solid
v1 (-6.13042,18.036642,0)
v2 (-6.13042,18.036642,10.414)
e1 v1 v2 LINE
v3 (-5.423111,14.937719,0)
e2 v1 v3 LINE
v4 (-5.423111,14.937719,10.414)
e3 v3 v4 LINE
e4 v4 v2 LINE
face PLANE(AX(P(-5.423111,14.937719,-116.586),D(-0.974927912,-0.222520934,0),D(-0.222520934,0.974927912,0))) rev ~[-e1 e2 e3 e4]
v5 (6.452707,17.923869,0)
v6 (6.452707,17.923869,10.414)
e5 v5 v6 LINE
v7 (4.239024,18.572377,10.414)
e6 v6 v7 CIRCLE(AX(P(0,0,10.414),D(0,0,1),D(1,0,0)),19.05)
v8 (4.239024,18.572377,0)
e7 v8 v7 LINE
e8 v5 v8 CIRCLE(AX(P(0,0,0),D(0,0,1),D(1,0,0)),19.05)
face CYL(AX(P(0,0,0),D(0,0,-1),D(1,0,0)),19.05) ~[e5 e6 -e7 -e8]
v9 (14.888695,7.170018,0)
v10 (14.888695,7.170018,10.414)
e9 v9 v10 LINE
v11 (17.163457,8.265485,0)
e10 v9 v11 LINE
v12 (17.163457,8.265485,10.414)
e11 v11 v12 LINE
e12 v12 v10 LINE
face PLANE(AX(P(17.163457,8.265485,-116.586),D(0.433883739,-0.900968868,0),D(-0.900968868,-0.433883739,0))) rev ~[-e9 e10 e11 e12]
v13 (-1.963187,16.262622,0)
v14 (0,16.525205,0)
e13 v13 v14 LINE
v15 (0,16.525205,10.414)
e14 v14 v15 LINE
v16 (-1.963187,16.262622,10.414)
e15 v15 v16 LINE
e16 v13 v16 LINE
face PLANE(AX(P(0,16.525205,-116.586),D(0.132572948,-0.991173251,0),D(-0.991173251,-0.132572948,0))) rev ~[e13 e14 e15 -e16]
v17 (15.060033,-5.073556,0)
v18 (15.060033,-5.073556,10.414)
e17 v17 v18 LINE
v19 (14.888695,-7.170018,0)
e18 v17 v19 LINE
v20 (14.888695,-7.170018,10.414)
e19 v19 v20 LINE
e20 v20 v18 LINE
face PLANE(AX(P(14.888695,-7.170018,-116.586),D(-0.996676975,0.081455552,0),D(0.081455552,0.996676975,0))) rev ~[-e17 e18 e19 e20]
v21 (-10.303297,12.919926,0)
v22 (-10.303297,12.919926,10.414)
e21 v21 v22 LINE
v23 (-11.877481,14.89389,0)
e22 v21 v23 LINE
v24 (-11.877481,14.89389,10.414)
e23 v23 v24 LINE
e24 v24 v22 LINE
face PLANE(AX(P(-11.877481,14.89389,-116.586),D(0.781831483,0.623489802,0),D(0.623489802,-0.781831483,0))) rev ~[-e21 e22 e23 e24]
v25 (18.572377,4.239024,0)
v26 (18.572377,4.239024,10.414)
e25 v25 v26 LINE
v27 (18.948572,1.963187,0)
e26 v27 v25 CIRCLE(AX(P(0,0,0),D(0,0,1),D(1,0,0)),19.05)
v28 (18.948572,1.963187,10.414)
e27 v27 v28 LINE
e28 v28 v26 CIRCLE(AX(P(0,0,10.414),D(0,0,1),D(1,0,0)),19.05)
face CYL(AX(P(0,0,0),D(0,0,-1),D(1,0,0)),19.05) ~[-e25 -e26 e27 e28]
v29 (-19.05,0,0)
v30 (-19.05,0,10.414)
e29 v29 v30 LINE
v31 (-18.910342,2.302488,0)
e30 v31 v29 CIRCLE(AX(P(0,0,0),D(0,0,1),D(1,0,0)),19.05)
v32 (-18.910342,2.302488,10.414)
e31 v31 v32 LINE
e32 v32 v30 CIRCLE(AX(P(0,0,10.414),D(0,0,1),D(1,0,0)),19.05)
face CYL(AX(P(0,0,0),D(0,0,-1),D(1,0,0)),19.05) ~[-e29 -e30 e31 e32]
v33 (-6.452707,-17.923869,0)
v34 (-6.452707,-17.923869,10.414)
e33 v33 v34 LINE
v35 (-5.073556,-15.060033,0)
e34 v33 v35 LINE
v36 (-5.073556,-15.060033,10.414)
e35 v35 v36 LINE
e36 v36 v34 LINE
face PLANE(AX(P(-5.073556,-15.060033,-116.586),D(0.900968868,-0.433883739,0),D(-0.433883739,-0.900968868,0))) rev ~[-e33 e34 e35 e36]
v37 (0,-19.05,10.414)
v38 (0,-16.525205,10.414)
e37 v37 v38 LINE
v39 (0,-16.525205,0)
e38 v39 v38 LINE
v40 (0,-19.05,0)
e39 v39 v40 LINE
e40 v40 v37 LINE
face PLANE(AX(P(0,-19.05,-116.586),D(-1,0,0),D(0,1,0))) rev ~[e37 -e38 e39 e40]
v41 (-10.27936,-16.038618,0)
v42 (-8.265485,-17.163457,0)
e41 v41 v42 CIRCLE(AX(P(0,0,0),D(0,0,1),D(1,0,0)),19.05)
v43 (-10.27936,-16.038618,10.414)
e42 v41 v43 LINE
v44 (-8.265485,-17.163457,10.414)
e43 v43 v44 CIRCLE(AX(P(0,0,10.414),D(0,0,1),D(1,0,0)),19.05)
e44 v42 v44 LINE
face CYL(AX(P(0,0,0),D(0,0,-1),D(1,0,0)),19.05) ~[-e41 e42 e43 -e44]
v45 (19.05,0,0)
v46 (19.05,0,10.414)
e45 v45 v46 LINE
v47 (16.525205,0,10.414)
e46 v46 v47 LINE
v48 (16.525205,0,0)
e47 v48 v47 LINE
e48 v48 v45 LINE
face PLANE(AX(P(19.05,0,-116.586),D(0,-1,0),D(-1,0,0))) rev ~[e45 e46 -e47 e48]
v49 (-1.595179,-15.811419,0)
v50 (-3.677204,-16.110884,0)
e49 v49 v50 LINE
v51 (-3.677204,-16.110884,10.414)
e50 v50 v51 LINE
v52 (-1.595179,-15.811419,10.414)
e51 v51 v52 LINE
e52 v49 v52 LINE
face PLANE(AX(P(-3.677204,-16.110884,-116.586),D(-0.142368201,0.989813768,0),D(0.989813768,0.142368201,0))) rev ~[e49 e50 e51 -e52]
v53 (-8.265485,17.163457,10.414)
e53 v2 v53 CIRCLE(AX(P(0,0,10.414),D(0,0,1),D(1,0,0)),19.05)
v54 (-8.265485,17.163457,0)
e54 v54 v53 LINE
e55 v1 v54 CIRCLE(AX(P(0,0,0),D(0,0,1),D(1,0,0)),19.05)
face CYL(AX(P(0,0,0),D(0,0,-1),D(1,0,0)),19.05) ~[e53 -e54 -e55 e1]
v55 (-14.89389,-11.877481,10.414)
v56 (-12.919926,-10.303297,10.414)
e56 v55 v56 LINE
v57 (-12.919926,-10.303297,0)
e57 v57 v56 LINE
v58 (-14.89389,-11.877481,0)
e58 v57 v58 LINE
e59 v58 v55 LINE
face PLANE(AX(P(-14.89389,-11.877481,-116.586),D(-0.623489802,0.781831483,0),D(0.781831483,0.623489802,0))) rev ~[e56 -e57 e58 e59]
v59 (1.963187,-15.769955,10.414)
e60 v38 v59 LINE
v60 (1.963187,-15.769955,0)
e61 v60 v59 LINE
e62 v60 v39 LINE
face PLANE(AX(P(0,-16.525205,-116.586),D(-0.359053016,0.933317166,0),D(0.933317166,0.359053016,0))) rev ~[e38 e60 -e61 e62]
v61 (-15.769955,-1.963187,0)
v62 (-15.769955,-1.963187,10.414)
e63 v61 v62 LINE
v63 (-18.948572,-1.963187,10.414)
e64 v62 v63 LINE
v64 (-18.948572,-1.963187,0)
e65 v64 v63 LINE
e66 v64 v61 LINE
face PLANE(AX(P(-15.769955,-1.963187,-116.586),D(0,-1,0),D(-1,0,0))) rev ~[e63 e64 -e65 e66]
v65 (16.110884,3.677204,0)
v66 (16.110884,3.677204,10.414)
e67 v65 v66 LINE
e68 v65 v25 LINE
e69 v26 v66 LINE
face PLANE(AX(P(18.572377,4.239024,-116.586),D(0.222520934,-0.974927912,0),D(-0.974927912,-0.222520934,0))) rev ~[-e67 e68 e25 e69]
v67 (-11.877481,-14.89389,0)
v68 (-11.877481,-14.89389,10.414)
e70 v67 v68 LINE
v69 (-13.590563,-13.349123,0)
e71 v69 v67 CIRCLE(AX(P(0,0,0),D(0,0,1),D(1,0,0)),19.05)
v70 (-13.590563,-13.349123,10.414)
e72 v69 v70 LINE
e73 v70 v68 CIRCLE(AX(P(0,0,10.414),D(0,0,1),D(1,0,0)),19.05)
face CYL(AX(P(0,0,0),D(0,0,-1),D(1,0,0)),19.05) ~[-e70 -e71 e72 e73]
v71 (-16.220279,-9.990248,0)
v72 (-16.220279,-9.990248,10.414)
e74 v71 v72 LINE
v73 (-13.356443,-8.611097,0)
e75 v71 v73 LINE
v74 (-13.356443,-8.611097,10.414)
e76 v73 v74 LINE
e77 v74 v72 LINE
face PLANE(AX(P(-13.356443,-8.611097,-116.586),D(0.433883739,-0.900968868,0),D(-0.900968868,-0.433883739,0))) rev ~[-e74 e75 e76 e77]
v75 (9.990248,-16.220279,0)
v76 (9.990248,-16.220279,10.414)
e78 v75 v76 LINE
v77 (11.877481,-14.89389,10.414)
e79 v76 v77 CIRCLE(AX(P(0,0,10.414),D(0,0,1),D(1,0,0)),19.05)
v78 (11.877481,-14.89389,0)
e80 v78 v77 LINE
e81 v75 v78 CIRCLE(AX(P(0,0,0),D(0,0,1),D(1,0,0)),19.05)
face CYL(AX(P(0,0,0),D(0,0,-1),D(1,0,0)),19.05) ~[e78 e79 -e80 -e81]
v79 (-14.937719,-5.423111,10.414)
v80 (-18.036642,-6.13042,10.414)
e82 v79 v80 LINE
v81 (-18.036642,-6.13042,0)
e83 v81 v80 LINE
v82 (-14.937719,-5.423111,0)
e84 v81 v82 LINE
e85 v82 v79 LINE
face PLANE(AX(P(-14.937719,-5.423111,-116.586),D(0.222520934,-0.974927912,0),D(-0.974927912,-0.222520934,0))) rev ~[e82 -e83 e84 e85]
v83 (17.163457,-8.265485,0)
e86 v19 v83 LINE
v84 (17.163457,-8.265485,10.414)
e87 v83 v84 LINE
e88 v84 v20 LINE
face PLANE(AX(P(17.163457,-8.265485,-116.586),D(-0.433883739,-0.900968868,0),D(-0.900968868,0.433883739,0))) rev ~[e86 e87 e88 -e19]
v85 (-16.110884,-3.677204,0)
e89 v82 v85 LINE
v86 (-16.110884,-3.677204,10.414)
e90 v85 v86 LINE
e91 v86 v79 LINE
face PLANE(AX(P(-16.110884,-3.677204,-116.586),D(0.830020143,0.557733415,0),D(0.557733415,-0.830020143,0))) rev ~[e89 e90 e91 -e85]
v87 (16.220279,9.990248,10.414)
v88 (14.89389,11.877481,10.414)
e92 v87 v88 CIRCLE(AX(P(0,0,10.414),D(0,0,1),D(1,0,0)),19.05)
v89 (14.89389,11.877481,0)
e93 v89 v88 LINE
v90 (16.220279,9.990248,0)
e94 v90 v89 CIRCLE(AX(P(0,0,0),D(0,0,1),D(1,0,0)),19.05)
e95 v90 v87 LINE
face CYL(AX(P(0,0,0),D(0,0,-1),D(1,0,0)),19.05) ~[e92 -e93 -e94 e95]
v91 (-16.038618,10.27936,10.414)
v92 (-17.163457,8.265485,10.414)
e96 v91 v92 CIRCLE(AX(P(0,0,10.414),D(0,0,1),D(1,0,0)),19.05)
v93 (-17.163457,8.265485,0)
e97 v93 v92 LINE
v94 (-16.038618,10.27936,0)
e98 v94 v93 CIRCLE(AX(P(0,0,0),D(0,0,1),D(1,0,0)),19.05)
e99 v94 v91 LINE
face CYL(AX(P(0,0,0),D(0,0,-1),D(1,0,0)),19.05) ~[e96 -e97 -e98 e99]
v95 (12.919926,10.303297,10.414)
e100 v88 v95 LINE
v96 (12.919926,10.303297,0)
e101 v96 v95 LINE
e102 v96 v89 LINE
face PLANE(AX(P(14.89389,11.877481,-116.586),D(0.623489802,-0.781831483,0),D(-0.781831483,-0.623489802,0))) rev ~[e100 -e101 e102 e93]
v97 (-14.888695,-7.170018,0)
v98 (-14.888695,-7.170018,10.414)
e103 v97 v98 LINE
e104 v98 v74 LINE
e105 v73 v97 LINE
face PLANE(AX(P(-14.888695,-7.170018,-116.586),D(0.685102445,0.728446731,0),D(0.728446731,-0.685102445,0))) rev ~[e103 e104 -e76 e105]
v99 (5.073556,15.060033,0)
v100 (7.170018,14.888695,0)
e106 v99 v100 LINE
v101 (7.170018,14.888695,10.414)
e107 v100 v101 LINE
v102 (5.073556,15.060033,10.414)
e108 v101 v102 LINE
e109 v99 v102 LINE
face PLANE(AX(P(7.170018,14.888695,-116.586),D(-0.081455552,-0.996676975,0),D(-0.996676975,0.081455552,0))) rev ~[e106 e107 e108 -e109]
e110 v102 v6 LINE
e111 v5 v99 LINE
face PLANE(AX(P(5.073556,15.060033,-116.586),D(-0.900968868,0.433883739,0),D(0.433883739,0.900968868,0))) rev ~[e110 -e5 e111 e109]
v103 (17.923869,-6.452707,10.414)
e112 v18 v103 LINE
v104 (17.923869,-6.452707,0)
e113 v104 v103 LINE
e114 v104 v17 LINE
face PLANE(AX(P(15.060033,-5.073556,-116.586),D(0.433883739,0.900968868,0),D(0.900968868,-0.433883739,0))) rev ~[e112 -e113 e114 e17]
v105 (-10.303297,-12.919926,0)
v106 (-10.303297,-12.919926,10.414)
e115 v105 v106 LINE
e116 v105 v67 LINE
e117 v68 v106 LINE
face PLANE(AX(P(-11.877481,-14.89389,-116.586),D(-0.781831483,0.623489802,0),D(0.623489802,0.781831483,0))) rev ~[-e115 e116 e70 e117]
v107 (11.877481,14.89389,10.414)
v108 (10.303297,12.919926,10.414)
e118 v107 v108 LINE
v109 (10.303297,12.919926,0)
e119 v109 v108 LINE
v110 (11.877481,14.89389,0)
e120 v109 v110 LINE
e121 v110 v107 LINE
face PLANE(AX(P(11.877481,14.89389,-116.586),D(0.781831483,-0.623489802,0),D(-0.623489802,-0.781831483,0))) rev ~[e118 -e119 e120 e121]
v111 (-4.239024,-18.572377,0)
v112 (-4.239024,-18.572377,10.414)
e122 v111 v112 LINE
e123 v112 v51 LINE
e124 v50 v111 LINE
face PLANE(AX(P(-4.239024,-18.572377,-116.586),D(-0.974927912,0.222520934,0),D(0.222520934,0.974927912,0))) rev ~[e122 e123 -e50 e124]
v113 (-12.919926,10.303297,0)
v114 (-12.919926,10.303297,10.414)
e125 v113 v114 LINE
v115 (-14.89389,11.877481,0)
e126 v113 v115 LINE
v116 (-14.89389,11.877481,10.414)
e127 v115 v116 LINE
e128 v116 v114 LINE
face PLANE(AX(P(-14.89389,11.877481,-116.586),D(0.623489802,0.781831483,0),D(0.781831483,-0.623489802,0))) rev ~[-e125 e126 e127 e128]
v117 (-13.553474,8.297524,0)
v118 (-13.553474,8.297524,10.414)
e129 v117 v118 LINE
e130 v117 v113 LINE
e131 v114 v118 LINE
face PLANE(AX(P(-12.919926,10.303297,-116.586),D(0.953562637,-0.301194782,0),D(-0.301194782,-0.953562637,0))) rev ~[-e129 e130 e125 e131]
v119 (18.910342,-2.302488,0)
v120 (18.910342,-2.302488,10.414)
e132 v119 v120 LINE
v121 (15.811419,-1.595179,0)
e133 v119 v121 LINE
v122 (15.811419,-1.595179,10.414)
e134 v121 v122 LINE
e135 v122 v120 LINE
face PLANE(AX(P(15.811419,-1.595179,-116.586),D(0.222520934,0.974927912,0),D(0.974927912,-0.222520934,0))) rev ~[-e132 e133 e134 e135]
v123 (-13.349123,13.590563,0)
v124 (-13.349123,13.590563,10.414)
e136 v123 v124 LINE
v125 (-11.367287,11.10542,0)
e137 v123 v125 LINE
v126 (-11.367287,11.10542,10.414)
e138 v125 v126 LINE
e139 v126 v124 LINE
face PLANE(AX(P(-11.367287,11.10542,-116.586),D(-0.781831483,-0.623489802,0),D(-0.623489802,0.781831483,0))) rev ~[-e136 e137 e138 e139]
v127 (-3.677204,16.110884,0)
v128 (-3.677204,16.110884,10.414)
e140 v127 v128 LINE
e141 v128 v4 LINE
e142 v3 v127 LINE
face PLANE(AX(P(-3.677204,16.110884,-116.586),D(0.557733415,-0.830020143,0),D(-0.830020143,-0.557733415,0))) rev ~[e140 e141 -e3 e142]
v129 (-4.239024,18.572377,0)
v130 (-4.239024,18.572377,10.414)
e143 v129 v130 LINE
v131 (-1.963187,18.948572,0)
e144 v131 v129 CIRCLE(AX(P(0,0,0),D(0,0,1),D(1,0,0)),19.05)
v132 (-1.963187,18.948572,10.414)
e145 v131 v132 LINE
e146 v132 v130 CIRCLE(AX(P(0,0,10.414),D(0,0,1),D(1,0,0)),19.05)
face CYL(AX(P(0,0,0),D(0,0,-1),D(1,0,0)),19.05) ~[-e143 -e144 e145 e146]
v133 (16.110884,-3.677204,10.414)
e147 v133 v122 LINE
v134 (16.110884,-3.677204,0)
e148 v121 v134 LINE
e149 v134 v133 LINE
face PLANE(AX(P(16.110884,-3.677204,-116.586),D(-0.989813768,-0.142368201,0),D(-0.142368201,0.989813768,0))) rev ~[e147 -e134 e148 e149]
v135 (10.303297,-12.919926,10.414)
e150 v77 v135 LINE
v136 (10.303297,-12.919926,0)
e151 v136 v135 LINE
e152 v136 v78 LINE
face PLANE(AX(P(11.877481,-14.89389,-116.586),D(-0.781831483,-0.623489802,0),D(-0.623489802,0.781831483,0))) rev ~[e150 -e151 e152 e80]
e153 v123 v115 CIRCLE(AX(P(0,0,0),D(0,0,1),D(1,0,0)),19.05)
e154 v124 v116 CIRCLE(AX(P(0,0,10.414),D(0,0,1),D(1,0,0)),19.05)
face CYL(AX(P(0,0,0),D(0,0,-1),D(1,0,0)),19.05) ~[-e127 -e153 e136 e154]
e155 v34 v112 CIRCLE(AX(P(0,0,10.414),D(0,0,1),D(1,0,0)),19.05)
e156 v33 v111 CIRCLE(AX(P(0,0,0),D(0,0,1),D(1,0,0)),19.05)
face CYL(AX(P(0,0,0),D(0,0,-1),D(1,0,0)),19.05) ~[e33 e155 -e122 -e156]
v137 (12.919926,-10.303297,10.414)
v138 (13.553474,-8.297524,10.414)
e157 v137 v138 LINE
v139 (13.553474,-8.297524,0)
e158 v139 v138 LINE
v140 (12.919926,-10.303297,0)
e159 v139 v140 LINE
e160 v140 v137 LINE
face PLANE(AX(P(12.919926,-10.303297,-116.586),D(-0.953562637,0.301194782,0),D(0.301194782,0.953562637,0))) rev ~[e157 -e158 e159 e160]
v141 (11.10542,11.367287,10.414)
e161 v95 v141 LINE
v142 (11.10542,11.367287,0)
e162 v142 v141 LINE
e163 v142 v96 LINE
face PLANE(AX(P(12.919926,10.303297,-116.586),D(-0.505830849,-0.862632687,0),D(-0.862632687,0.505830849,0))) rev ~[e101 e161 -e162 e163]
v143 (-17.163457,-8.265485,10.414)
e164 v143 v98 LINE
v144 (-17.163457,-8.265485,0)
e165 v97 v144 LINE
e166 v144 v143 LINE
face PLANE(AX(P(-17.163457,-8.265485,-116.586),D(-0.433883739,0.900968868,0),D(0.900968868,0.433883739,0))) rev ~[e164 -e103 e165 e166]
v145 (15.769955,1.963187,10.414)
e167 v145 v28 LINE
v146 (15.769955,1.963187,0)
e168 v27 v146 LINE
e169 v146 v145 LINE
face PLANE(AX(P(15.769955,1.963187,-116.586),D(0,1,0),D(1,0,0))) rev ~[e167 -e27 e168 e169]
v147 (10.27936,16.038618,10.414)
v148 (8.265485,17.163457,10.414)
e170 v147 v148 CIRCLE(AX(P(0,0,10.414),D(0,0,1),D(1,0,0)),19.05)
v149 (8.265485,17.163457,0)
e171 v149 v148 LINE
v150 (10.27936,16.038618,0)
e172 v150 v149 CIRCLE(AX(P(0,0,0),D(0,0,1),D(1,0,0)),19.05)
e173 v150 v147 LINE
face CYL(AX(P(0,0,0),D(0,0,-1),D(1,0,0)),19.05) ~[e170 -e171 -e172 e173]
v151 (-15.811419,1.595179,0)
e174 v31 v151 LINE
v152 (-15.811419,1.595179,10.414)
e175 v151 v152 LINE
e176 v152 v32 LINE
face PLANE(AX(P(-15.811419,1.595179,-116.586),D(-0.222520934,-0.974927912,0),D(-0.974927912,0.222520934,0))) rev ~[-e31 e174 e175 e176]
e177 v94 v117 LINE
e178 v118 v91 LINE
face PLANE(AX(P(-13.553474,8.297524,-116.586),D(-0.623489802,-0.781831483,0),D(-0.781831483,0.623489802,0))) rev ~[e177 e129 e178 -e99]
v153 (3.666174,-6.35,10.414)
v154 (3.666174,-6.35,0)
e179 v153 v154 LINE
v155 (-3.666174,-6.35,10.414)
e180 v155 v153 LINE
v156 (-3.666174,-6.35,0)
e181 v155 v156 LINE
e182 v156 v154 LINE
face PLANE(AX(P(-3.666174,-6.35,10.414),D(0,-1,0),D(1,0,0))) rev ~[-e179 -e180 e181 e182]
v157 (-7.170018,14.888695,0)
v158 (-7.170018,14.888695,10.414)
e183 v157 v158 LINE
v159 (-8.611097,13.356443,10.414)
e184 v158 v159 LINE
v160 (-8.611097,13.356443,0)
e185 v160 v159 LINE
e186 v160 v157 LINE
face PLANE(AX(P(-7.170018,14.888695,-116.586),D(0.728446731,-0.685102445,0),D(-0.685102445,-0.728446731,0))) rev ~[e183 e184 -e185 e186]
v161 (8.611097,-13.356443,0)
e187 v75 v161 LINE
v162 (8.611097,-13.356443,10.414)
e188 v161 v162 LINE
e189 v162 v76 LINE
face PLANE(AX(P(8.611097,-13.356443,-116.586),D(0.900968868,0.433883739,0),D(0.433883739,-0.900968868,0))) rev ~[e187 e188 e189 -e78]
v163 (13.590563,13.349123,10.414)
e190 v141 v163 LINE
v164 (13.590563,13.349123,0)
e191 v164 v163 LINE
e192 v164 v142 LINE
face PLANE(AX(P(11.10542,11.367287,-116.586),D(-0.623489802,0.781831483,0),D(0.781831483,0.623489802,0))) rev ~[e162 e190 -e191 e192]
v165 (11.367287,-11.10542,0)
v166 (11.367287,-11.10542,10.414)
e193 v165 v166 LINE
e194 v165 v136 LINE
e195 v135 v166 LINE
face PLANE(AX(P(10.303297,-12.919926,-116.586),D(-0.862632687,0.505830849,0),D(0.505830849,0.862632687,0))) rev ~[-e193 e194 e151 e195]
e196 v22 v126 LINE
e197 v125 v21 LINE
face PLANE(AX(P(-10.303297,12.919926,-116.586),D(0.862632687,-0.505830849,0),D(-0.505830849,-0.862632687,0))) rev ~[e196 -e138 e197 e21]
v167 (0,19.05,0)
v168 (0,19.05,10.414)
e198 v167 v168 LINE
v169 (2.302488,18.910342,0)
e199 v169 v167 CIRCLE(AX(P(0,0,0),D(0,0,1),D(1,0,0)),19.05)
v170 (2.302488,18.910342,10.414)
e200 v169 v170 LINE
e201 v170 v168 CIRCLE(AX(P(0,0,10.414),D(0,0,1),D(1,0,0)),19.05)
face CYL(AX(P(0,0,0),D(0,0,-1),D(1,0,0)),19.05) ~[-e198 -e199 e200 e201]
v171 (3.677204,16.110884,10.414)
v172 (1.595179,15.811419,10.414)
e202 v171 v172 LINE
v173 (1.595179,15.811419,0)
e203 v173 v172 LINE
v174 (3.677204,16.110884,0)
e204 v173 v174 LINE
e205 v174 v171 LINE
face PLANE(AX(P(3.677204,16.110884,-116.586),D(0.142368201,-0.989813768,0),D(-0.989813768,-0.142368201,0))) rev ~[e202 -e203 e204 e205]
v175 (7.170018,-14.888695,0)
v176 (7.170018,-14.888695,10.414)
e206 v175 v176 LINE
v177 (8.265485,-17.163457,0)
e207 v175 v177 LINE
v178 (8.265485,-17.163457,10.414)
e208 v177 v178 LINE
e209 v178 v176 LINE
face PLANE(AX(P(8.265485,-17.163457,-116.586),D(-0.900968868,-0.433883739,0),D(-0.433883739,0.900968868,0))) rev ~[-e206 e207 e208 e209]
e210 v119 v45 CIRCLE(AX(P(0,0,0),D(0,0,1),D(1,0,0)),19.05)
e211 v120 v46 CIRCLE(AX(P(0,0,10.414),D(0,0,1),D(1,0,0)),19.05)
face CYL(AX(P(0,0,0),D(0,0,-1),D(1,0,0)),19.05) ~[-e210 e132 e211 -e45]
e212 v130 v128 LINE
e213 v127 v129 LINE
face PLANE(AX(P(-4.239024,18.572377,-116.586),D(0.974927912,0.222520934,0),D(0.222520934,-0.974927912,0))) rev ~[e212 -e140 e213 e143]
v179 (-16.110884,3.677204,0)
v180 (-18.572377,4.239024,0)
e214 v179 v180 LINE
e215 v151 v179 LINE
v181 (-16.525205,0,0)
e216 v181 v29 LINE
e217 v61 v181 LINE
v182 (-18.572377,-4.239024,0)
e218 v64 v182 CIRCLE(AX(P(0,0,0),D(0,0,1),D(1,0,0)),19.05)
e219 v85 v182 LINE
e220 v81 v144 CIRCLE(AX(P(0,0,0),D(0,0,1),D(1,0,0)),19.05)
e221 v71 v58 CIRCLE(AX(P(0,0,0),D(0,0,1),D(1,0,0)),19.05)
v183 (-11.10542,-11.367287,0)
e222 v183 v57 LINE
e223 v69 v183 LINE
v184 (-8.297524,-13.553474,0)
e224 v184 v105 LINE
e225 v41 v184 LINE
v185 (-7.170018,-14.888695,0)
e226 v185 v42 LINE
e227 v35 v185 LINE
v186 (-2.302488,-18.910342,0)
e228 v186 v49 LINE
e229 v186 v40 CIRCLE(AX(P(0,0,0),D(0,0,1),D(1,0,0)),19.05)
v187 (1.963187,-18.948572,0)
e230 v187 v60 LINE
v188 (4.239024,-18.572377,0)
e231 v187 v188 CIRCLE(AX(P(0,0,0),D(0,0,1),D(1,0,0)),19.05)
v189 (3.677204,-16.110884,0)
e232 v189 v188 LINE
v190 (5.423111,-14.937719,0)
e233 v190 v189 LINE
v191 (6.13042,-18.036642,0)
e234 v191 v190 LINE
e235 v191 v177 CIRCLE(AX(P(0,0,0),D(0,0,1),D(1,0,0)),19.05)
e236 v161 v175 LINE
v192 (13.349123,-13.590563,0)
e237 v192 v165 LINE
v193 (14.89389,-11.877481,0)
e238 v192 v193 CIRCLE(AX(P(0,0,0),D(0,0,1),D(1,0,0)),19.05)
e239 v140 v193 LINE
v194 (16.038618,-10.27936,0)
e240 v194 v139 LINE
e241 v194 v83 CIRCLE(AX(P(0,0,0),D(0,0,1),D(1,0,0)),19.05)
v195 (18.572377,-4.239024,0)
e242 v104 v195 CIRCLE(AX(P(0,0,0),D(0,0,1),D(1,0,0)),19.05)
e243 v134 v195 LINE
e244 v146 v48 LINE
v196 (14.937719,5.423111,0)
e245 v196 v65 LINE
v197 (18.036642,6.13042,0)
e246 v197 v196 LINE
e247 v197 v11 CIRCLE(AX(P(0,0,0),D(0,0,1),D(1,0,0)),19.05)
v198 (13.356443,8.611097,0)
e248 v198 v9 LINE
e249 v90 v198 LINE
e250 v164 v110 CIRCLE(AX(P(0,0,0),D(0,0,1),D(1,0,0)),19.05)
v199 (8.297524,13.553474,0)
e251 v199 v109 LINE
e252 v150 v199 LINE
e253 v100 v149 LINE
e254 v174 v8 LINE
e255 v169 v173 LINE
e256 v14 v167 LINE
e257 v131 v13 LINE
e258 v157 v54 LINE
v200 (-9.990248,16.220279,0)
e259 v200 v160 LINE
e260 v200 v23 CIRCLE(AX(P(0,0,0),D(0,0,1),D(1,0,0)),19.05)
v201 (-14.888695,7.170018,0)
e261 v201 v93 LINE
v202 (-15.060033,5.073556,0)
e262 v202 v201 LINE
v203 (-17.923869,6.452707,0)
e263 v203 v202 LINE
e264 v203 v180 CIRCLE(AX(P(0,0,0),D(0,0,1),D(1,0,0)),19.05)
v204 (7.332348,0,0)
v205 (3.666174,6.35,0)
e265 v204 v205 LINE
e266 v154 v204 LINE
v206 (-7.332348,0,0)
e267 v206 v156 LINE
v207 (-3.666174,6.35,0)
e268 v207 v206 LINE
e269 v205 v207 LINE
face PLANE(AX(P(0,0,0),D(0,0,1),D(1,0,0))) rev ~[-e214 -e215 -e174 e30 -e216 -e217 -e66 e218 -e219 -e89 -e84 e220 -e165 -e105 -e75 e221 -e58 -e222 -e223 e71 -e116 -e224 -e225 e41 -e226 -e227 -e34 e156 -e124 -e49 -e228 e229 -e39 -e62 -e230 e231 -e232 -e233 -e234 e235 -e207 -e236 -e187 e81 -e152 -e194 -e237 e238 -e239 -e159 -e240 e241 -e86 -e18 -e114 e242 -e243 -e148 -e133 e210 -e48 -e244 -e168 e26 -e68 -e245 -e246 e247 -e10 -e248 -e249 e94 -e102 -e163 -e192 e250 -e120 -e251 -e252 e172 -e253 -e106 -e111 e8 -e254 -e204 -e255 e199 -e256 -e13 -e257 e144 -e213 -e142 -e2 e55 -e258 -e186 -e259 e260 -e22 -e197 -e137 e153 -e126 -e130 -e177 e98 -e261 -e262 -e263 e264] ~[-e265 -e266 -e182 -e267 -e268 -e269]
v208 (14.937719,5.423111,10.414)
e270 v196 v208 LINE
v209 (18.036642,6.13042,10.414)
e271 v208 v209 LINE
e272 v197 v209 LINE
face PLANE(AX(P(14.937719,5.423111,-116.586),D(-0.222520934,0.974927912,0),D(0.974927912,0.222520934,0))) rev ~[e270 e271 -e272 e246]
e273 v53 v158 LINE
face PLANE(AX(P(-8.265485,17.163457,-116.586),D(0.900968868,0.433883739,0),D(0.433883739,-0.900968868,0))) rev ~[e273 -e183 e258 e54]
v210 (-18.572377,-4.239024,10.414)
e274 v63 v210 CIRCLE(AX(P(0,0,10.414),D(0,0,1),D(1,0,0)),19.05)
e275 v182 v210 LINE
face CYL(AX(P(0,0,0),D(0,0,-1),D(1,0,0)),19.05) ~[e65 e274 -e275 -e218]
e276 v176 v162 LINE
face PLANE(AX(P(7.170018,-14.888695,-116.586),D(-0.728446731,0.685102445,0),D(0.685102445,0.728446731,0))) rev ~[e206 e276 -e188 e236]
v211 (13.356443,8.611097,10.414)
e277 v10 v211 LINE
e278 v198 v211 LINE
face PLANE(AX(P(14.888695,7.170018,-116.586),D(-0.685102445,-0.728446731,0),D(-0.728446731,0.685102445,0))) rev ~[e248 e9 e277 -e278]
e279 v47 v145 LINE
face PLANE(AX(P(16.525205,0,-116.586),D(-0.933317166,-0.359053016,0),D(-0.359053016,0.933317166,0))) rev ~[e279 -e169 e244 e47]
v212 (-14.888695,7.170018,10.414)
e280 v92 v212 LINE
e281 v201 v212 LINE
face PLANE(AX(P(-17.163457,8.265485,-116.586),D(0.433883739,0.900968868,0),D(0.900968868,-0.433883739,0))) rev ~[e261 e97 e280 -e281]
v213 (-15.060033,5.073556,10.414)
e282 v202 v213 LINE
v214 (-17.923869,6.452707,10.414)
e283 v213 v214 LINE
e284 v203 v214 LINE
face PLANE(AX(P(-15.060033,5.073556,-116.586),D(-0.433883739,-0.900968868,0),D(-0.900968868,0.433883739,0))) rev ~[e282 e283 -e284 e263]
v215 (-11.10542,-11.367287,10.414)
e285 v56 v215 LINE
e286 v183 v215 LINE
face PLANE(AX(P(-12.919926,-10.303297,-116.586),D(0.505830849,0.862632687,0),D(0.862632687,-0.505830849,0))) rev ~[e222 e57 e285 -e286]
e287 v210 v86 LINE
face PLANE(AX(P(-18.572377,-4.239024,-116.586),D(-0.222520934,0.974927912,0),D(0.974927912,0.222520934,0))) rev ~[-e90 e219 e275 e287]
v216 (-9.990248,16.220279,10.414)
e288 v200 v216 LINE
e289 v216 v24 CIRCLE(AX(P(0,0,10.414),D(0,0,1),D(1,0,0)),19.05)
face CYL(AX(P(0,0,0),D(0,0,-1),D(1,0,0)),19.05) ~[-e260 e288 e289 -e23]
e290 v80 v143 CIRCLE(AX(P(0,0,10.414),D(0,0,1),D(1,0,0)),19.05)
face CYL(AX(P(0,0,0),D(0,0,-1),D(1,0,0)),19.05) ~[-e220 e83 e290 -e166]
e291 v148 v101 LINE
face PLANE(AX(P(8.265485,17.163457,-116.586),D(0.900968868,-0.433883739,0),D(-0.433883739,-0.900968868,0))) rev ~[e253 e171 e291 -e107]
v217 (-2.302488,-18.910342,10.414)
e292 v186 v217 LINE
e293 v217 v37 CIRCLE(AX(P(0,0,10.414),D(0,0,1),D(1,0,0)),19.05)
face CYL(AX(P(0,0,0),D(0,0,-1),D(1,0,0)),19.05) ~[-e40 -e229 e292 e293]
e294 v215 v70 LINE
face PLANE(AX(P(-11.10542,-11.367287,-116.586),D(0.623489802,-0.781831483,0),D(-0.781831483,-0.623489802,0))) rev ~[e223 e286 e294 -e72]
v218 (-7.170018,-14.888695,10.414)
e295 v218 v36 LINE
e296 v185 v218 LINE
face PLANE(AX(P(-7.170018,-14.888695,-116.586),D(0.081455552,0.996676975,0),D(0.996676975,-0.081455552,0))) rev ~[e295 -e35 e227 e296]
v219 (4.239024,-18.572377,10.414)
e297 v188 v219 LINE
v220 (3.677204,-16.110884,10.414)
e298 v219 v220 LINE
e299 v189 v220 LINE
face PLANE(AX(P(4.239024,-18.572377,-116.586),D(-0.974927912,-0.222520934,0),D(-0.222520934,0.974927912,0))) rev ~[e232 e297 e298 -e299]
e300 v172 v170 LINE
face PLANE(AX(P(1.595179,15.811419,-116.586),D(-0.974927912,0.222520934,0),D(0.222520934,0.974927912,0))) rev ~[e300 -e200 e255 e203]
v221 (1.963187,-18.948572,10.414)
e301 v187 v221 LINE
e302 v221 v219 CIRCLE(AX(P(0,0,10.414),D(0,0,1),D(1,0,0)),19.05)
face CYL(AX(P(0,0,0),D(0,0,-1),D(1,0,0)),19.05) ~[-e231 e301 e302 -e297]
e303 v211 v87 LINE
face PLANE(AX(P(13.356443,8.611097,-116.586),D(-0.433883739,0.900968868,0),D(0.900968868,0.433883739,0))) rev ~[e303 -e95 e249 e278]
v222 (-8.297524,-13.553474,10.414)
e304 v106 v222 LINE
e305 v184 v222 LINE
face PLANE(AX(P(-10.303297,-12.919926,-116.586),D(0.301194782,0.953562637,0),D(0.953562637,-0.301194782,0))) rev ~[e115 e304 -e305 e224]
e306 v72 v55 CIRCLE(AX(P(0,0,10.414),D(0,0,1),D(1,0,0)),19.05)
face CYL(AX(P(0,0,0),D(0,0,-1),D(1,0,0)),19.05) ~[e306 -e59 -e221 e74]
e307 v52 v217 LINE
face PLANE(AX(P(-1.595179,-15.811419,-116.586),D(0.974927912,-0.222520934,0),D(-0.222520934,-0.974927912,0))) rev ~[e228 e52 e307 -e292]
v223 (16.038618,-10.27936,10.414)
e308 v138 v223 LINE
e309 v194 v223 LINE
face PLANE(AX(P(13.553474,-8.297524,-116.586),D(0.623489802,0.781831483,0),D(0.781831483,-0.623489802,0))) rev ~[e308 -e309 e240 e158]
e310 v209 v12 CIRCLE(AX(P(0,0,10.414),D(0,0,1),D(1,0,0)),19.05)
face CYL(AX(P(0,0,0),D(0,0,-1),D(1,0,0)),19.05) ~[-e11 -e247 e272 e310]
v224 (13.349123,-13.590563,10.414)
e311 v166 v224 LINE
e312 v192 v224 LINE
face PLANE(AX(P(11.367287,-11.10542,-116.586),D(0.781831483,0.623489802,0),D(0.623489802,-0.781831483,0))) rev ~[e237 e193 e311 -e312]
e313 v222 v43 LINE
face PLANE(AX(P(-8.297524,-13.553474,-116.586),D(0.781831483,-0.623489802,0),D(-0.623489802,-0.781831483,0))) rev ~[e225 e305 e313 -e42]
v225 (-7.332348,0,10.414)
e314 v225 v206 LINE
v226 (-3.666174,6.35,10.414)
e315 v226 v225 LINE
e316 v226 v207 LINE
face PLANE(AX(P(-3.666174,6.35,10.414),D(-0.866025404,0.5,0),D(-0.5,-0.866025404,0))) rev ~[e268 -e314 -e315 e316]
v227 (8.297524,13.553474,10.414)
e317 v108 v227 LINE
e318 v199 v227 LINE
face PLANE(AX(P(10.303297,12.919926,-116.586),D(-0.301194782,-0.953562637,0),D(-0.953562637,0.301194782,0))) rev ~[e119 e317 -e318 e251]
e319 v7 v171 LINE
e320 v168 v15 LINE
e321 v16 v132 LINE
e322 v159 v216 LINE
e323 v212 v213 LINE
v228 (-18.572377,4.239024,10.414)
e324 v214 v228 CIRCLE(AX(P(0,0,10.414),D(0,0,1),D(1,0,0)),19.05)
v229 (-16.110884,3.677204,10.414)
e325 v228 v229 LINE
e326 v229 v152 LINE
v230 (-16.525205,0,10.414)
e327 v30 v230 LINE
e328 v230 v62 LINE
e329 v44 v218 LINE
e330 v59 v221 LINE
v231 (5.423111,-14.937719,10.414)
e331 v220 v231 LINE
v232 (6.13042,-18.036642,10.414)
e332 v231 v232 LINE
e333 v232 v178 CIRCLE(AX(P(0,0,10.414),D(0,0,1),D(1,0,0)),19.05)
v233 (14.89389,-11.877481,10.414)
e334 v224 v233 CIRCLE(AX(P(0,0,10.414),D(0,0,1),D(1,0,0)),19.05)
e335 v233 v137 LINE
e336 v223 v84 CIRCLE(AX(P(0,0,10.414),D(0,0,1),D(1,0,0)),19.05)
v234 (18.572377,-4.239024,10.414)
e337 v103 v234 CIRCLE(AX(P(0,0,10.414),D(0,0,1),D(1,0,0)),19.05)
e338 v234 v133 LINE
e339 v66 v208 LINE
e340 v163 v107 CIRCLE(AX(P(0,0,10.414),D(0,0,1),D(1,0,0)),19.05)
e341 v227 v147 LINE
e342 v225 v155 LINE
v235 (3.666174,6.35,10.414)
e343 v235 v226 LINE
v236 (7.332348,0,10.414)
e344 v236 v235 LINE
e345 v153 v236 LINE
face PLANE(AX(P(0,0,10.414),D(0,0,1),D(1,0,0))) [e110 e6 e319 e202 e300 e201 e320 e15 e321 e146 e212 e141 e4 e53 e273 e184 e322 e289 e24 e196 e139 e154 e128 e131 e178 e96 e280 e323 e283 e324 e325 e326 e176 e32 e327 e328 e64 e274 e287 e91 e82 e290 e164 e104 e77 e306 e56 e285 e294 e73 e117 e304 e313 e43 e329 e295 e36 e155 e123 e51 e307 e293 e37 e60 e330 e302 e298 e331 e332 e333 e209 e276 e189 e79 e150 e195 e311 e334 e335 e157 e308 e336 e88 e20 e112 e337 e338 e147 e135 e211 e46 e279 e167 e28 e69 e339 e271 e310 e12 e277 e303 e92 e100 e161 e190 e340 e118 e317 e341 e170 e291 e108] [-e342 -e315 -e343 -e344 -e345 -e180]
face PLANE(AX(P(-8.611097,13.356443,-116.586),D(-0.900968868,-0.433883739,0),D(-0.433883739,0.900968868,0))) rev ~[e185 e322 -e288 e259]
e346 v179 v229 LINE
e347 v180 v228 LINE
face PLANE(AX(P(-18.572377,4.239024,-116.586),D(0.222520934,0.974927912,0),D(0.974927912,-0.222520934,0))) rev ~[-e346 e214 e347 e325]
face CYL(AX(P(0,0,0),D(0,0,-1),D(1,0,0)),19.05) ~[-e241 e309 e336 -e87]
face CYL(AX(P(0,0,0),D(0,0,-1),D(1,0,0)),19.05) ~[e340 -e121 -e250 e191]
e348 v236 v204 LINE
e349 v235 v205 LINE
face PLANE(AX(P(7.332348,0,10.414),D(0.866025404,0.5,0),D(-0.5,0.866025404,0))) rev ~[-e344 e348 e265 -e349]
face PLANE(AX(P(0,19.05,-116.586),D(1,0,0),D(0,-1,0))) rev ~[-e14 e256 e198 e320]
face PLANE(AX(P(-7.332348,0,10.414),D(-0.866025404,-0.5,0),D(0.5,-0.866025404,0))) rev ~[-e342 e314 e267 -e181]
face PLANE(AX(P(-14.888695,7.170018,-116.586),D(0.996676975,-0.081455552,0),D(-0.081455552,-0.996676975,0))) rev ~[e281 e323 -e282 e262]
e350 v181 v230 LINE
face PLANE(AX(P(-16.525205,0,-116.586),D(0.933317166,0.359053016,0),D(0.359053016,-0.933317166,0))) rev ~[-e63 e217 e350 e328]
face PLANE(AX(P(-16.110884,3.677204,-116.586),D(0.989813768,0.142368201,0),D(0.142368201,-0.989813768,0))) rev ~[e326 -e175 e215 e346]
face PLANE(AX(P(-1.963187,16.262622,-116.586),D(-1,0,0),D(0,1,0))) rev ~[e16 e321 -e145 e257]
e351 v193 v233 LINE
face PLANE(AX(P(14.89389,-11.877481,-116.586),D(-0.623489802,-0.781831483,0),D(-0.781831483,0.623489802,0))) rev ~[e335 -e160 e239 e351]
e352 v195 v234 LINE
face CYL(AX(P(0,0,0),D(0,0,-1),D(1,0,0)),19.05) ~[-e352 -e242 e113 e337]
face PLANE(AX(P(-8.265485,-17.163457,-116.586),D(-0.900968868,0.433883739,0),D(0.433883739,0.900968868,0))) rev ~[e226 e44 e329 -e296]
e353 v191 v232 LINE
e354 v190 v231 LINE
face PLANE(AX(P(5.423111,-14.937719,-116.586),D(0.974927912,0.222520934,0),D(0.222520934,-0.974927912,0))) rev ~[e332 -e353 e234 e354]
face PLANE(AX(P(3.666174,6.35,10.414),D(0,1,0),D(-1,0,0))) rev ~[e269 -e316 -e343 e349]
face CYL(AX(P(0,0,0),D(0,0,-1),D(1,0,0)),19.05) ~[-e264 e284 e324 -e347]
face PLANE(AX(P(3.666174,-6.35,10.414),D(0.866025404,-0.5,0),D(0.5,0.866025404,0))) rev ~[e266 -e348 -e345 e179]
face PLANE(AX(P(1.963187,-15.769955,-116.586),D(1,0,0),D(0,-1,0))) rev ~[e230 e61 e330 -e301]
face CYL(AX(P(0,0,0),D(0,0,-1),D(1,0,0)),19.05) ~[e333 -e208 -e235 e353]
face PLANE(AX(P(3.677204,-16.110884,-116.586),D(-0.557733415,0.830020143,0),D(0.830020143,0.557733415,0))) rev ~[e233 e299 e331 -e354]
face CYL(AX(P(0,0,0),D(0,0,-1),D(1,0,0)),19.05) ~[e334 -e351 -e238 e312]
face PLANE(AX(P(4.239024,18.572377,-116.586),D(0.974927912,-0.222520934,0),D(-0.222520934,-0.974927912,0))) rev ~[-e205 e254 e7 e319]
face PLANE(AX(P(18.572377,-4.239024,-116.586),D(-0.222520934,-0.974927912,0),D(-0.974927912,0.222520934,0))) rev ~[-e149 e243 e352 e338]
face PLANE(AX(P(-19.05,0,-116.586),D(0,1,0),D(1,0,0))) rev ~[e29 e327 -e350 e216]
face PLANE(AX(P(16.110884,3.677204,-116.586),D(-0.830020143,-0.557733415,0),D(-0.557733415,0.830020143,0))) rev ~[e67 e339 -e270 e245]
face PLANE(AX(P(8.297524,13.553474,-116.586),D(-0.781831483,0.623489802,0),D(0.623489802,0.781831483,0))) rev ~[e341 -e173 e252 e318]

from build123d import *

# Parameters (mm, degrees)
SKETCH1_R           = 19.05
BOSS_EXTRUDE1_DEPTH = 10.414
CUT_EXTRUDE1_DEPTH  = 10.414
CUT_EXTRUDE2_START  = -127
CUT_EXTRUDE2_DEPTH  = 127


with BuildPart() as part:
    # Sketch1 → Boss-Extrude1 (new body)
    with BuildSketch(Plane.XY):
        Circle(SKETCH1_R)
    extrude(amount=BOSS_EXTRUDE1_DEPTH)

    # Sketch2 → Cut-Extrude1 (cut)
    with BuildSketch(Plane.XY.offset(10.414)):
        Polygon((-7.332348419, 0), (-3.666174209, -6.35), (3.666174209, -6.35), (7.332348419, 0), (3.666174209, 6.35), (-3.666174209, 6.35), align=None)
    extrude(amount=-CUT_EXTRUDE1_DEPTH, mode=Mode.SUBTRACT)

    # Sketch3 → Cut-Extrude2 (cut)
    with BuildSketch(Plane.XY.offset(10.414).offset(CUT_EXTRUDE2_START)):
        with BuildLine():
            Line((0, 19.05), (0, 16.525205144))
            Line((0, 16.525205144), (-1.963187207, 16.262621871))
            Line((-1.963187207, 16.262621871), (-1.963187207, 18.9485724))
            ThreePointArc((-1.963187207, 18.9485724), (-0.982902788, 19.024626202), (0, 19.05))
        make_face()
        with BuildLine():
            Line((3.677204083, 16.11088375), (1.595179024, 15.811419173))
            Line((1.595179024, 15.811419173), (2.302488023, 18.910342379))
            ThreePointArc((2.302488023, 18.910342379), (3.275118227, 18.766355549), (4.239023792, 18.572376727))
            Line((4.239023792, 18.572376727), (3.677204083, 16.11088375))
        make_face()
        with BuildLine():
            Line((7.170017798, 14.888695371), (5.073556317, 15.060033157))
            Line((5.073556317, 15.060033157), (6.452706889, 17.923868829))
            ThreePointArc((6.452706889, 17.923868829), (7.368911139, 17.567061468), (8.26548523, 17.163456934))
            Line((8.26548523, 17.163456934), (7.170017798, 14.888695371))
        make_face()
        with BuildLine():
            Line((10.303296881, 12.919925636), (8.297524311, 13.553474193))
            Line((8.297524311, 13.553474193), (10.279360087, 16.038617653))
            ThreePointArc((10.279360087, 16.038617653), (11.093196077, 15.486881571), (11.877480725, 14.893889741))
            Line((11.877480725, 14.893889741), (10.303296881, 12.919925636))
        make_face()
        with BuildLine():
            Line((12.919925636, 10.303296881), (11.105419788, 11.367287439))
            Line((11.105419788, 11.367287439), (13.590563248, 13.349123215))
            ThreePointArc((13.590563248, 13.349123215), (14.261221842, 12.630124765), (14.893889741, 11.877480725))
            Line((14.893889741, 11.877480725), (12.919925636, 10.303296881))
        make_face()
        with BuildLine():
            Line((14.888695371, 7.170017798), (13.356443146, 8.611097427))
            Line((13.356443146, 8.611097427), (16.220278818, 9.990247999))
            ThreePointArc((16.220278818, 9.990247999), (16.714130394, 9.140040764), (17.163456934, 8.26548523))
            Line((17.163456934, 8.26548523), (14.888695371, 7.170017798))
        make_face()
        with BuildLine():
            Line((16.11088375, 3.677204083), (14.937718672, 5.423111033))
            Line((14.937718672, 5.423111033), (18.036641878, 6.130420032))
            ThreePointArc((18.036641878, 6.130420032), (18.328922656, 5.191636954), (18.572376727, 4.239023792))
            Line((18.572376727, 4.239023792), (16.11088375, 3.677204083))
        make_face()
        with BuildLine():
            Line((16.525205144, 0), (15.76995461, 1.963187207))
            Line((15.76995461, 1.963187207), (18.9485724, 1.963187207))
            ThreePointArc((18.9485724, 1.963187207), (19.024626202, 0.982902788), (19.05, 0))
            Line((19.05, 0), (16.525205144, 0))
        make_face()
        with BuildLine():
            Line((16.11088375, -3.677204083), (15.811419173, -1.595179024))
            Line((15.811419173, -1.595179024), (18.910342379, -2.302488023))
            ThreePointArc((18.910342379, -2.302488023), (18.766355549, -3.275118227), (18.572376727, -4.239023792))
            Line((18.572376727, -4.239023792), (16.11088375, -3.677204083))
        make_face()
        with BuildLine():
            Line((14.888695371, -7.170017798), (15.060033157, -5.073556317))
            Line((15.060033157, -5.073556317), (17.923868829, -6.452706889))
            ThreePointArc((17.923868829, -6.452706889), (17.567061468, -7.368911139), (17.163456934, -8.26548523))
            Line((17.163456934, -8.26548523), (14.888695371, -7.170017798))
        make_face()
        with BuildLine():
            Line((12.919925636, -10.303296881), (13.553474193, -8.297524311))
            Line((13.553474193, -8.297524311), (16.038617653, -10.279360087))
            ThreePointArc((16.038617653, -10.279360087), (15.486881571, -11.093196077), (14.893889741, -11.877480725))
            Line((14.893889741, -11.877480725), (12.919925636, -10.303296881))
        make_face()
        with BuildLine():
            Line((10.303296881, -12.919925636), (11.367287439, -11.105419788))
            Line((11.367287439, -11.105419788), (13.349123215, -13.590563248))
            ThreePointArc((13.349123215, -13.590563248), (12.630124765, -14.261221842), (11.877480725, -14.893889741))
            Line((11.877480725, -14.893889741), (10.303296881, -12.919925636))
        make_face()
        with BuildLine():
            Line((7.170017798, -14.888695371), (8.611097427, -13.356443146))
            Line((8.611097427, -13.356443146), (9.990247999, -16.220278818))
            ThreePointArc((9.990247999, -16.220278818), (9.140040764, -16.714130394), (8.26548523, -17.163456934))
            Line((8.26548523, -17.163456934), (7.170017798, -14.888695371))
        make_face()
        with BuildLine():
            Line((3.677204083, -16.11088375), (5.423111033, -14.937718672))
            Line((5.423111033, -14.937718672), (6.130420032, -18.036641878))
            ThreePointArc((6.130420032, -18.036641878), (5.191636954, -18.328922656), (4.239023792, -18.572376727))
            Line((4.239023792, -18.572376727), (3.677204083, -16.11088375))
        make_face()
        with BuildLine():
            Line((0, -16.525205144), (1.963187207, -15.76995461))
            Line((1.963187207, -15.76995461), (1.963187207, -18.9485724))
            ThreePointArc((1.963187207, -18.9485724), (0.982902788, -19.024626202), (0, -19.05))
            Line((0, -19.05), (0, -16.525205144))
        make_face()
        with BuildLine():
            Line((-3.677204083, -16.11088375), (-1.595179024, -15.811419173))
            Line((-1.595179024, -15.811419173), (-2.302488023, -18.910342379))
            ThreePointArc((-2.302488023, -18.910342379), (-3.275118227, -18.766355549), (-4.239023792, -18.572376727))
            Line((-4.239023792, -18.572376727), (-3.677204083, -16.11088375))
        make_face()
        with BuildLine():
            Line((-7.170017798, -14.888695371), (-5.073556317, -15.060033157))
            Line((-5.073556317, -15.060033157), (-6.452706889, -17.923868829))
            ThreePointArc((-6.452706889, -17.923868829), (-7.368911139, -17.567061468), (-8.26548523, -17.163456934))
            Line((-8.26548523, -17.163456934), (-7.170017798, -14.888695371))
        make_face()
        with BuildLine():
            Line((-10.303296881, -12.919925636), (-8.297524311, -13.553474193))
            Line((-8.297524311, -13.553474193), (-10.279360087, -16.038617653))
            ThreePointArc((-10.279360087, -16.038617653), (-11.093196077, -15.486881571), (-11.877480725, -14.893889741))
            Line((-11.877480725, -14.893889741), (-10.303296881, -12.919925636))
        make_face()
        with BuildLine():
            Line((-12.919925636, -10.303296881), (-11.105419788, -11.367287439))
            Line((-11.105419788, -11.367287439), (-13.590563248, -13.349123215))
            ThreePointArc((-13.590563248, -13.349123215), (-14.261221842, -12.630124765), (-14.893889741, -11.877480725))
            Line((-14.893889741, -11.877480725), (-12.919925636, -10.303296881))
        make_face()
        with BuildLine():
            Line((-14.888695371, -7.170017798), (-13.356443146, -8.611097427))
            Line((-13.356443146, -8.611097427), (-16.220278818, -9.990247999))
            ThreePointArc((-16.220278818, -9.990247999), (-16.714130394, -9.140040764), (-17.163456934, -8.26548523))
            Line((-17.163456934, -8.26548523), (-14.888695371, -7.170017798))
        make_face()
        with BuildLine():
            Line((-16.11088375, -3.677204083), (-14.937718672, -5.423111033))
            Line((-14.937718672, -5.423111033), (-18.036641878, -6.130420032))
            ThreePointArc((-18.036641878, -6.130420032), (-18.328922656, -5.191636954), (-18.572376727, -4.239023792))
            Line((-18.572376727, -4.239023792), (-16.11088375, -3.677204083))
        make_face()
        with BuildLine():
            Line((-16.525205144, 0), (-15.76995461, -1.963187207))
            Line((-15.76995461, -1.963187207), (-18.9485724, -1.963187207))
            ThreePointArc((-18.9485724, -1.963187207), (-19.024626202, -0.982902788), (-19.05, 0))
            Line((-19.05, 0), (-16.525205144, 0))
        make_face()
        with BuildLine():
            Line((-16.11088375, 3.677204083), (-15.811419173, 1.595179024))
            Line((-15.811419173, 1.595179024), (-18.910342379, 2.302488023))
            ThreePointArc((-18.910342379, 2.302488023), (-18.766355549, 3.275118227), (-18.572376727, 4.239023792))
            Line((-18.572376727, 4.239023792), (-16.11088375, 3.677204083))
        make_face()
        with BuildLine():
            Line((-14.888695371, 7.170017798), (-15.060033157, 5.073556317))
            Line((-15.060033157, 5.073556317), (-17.923868829, 6.452706889))
            ThreePointArc((-17.923868829, 6.452706889), (-17.567061468, 7.368911139), (-17.163456934, 8.26548523))
            Line((-17.163456934, 8.26548523), (-14.888695371, 7.170017798))
        make_face()
        with BuildLine():
            Line((-12.919925636, 10.303296881), (-13.553474193, 8.297524311))
            Line((-13.553474193, 8.297524311), (-16.038617653, 10.279360087))
            ThreePointArc((-16.038617653, 10.279360087), (-15.486881571, 11.093196077), (-14.893889741, 11.877480725))
            Line((-14.893889741, 11.877480725), (-12.919925636, 10.303296881))
        make_face()
        with BuildLine():
            Line((-10.303296881, 12.919925636), (-11.367287439, 11.105419788))
            Line((-11.367287439, 11.105419788), (-13.349123215, 13.590563248))
            ThreePointArc((-13.349123215, 13.590563248), (-12.630124765, 14.261221842), (-11.877480725, 14.893889741))
            Line((-11.877480725, 14.893889741), (-10.303296881, 12.919925636))
        make_face()
        with BuildLine():
            Line((-7.170017798, 14.888695371), (-8.611097427, 13.356443146))
            Line((-8.611097427, 13.356443146), (-9.990247999, 16.220278818))
            ThreePointArc((-9.990247999, 16.220278818), (-9.140040764, 16.714130394), (-8.26548523, 17.163456934))
            Line((-8.26548523, 17.163456934), (-7.170017798, 14.888695371))
        make_face()
        with BuildLine():
            Line((-3.677204083, 16.11088375), (-5.423111033, 14.937718672))
            Line((-5.423111033, 14.937718672), (-6.130420032, 18.036641878))
            ThreePointArc((-6.130420032, 18.036641878), (-5.191636954, 18.328922656), (-4.239023792, 18.572376727))
            Line((-4.239023792, 18.572376727), (-3.677204083, 16.11088375))
        make_face()
    extrude(amount=CUT_EXTRUDE2_DEPTH, mode=Mode.SUBTRACT)


solid = part.part
